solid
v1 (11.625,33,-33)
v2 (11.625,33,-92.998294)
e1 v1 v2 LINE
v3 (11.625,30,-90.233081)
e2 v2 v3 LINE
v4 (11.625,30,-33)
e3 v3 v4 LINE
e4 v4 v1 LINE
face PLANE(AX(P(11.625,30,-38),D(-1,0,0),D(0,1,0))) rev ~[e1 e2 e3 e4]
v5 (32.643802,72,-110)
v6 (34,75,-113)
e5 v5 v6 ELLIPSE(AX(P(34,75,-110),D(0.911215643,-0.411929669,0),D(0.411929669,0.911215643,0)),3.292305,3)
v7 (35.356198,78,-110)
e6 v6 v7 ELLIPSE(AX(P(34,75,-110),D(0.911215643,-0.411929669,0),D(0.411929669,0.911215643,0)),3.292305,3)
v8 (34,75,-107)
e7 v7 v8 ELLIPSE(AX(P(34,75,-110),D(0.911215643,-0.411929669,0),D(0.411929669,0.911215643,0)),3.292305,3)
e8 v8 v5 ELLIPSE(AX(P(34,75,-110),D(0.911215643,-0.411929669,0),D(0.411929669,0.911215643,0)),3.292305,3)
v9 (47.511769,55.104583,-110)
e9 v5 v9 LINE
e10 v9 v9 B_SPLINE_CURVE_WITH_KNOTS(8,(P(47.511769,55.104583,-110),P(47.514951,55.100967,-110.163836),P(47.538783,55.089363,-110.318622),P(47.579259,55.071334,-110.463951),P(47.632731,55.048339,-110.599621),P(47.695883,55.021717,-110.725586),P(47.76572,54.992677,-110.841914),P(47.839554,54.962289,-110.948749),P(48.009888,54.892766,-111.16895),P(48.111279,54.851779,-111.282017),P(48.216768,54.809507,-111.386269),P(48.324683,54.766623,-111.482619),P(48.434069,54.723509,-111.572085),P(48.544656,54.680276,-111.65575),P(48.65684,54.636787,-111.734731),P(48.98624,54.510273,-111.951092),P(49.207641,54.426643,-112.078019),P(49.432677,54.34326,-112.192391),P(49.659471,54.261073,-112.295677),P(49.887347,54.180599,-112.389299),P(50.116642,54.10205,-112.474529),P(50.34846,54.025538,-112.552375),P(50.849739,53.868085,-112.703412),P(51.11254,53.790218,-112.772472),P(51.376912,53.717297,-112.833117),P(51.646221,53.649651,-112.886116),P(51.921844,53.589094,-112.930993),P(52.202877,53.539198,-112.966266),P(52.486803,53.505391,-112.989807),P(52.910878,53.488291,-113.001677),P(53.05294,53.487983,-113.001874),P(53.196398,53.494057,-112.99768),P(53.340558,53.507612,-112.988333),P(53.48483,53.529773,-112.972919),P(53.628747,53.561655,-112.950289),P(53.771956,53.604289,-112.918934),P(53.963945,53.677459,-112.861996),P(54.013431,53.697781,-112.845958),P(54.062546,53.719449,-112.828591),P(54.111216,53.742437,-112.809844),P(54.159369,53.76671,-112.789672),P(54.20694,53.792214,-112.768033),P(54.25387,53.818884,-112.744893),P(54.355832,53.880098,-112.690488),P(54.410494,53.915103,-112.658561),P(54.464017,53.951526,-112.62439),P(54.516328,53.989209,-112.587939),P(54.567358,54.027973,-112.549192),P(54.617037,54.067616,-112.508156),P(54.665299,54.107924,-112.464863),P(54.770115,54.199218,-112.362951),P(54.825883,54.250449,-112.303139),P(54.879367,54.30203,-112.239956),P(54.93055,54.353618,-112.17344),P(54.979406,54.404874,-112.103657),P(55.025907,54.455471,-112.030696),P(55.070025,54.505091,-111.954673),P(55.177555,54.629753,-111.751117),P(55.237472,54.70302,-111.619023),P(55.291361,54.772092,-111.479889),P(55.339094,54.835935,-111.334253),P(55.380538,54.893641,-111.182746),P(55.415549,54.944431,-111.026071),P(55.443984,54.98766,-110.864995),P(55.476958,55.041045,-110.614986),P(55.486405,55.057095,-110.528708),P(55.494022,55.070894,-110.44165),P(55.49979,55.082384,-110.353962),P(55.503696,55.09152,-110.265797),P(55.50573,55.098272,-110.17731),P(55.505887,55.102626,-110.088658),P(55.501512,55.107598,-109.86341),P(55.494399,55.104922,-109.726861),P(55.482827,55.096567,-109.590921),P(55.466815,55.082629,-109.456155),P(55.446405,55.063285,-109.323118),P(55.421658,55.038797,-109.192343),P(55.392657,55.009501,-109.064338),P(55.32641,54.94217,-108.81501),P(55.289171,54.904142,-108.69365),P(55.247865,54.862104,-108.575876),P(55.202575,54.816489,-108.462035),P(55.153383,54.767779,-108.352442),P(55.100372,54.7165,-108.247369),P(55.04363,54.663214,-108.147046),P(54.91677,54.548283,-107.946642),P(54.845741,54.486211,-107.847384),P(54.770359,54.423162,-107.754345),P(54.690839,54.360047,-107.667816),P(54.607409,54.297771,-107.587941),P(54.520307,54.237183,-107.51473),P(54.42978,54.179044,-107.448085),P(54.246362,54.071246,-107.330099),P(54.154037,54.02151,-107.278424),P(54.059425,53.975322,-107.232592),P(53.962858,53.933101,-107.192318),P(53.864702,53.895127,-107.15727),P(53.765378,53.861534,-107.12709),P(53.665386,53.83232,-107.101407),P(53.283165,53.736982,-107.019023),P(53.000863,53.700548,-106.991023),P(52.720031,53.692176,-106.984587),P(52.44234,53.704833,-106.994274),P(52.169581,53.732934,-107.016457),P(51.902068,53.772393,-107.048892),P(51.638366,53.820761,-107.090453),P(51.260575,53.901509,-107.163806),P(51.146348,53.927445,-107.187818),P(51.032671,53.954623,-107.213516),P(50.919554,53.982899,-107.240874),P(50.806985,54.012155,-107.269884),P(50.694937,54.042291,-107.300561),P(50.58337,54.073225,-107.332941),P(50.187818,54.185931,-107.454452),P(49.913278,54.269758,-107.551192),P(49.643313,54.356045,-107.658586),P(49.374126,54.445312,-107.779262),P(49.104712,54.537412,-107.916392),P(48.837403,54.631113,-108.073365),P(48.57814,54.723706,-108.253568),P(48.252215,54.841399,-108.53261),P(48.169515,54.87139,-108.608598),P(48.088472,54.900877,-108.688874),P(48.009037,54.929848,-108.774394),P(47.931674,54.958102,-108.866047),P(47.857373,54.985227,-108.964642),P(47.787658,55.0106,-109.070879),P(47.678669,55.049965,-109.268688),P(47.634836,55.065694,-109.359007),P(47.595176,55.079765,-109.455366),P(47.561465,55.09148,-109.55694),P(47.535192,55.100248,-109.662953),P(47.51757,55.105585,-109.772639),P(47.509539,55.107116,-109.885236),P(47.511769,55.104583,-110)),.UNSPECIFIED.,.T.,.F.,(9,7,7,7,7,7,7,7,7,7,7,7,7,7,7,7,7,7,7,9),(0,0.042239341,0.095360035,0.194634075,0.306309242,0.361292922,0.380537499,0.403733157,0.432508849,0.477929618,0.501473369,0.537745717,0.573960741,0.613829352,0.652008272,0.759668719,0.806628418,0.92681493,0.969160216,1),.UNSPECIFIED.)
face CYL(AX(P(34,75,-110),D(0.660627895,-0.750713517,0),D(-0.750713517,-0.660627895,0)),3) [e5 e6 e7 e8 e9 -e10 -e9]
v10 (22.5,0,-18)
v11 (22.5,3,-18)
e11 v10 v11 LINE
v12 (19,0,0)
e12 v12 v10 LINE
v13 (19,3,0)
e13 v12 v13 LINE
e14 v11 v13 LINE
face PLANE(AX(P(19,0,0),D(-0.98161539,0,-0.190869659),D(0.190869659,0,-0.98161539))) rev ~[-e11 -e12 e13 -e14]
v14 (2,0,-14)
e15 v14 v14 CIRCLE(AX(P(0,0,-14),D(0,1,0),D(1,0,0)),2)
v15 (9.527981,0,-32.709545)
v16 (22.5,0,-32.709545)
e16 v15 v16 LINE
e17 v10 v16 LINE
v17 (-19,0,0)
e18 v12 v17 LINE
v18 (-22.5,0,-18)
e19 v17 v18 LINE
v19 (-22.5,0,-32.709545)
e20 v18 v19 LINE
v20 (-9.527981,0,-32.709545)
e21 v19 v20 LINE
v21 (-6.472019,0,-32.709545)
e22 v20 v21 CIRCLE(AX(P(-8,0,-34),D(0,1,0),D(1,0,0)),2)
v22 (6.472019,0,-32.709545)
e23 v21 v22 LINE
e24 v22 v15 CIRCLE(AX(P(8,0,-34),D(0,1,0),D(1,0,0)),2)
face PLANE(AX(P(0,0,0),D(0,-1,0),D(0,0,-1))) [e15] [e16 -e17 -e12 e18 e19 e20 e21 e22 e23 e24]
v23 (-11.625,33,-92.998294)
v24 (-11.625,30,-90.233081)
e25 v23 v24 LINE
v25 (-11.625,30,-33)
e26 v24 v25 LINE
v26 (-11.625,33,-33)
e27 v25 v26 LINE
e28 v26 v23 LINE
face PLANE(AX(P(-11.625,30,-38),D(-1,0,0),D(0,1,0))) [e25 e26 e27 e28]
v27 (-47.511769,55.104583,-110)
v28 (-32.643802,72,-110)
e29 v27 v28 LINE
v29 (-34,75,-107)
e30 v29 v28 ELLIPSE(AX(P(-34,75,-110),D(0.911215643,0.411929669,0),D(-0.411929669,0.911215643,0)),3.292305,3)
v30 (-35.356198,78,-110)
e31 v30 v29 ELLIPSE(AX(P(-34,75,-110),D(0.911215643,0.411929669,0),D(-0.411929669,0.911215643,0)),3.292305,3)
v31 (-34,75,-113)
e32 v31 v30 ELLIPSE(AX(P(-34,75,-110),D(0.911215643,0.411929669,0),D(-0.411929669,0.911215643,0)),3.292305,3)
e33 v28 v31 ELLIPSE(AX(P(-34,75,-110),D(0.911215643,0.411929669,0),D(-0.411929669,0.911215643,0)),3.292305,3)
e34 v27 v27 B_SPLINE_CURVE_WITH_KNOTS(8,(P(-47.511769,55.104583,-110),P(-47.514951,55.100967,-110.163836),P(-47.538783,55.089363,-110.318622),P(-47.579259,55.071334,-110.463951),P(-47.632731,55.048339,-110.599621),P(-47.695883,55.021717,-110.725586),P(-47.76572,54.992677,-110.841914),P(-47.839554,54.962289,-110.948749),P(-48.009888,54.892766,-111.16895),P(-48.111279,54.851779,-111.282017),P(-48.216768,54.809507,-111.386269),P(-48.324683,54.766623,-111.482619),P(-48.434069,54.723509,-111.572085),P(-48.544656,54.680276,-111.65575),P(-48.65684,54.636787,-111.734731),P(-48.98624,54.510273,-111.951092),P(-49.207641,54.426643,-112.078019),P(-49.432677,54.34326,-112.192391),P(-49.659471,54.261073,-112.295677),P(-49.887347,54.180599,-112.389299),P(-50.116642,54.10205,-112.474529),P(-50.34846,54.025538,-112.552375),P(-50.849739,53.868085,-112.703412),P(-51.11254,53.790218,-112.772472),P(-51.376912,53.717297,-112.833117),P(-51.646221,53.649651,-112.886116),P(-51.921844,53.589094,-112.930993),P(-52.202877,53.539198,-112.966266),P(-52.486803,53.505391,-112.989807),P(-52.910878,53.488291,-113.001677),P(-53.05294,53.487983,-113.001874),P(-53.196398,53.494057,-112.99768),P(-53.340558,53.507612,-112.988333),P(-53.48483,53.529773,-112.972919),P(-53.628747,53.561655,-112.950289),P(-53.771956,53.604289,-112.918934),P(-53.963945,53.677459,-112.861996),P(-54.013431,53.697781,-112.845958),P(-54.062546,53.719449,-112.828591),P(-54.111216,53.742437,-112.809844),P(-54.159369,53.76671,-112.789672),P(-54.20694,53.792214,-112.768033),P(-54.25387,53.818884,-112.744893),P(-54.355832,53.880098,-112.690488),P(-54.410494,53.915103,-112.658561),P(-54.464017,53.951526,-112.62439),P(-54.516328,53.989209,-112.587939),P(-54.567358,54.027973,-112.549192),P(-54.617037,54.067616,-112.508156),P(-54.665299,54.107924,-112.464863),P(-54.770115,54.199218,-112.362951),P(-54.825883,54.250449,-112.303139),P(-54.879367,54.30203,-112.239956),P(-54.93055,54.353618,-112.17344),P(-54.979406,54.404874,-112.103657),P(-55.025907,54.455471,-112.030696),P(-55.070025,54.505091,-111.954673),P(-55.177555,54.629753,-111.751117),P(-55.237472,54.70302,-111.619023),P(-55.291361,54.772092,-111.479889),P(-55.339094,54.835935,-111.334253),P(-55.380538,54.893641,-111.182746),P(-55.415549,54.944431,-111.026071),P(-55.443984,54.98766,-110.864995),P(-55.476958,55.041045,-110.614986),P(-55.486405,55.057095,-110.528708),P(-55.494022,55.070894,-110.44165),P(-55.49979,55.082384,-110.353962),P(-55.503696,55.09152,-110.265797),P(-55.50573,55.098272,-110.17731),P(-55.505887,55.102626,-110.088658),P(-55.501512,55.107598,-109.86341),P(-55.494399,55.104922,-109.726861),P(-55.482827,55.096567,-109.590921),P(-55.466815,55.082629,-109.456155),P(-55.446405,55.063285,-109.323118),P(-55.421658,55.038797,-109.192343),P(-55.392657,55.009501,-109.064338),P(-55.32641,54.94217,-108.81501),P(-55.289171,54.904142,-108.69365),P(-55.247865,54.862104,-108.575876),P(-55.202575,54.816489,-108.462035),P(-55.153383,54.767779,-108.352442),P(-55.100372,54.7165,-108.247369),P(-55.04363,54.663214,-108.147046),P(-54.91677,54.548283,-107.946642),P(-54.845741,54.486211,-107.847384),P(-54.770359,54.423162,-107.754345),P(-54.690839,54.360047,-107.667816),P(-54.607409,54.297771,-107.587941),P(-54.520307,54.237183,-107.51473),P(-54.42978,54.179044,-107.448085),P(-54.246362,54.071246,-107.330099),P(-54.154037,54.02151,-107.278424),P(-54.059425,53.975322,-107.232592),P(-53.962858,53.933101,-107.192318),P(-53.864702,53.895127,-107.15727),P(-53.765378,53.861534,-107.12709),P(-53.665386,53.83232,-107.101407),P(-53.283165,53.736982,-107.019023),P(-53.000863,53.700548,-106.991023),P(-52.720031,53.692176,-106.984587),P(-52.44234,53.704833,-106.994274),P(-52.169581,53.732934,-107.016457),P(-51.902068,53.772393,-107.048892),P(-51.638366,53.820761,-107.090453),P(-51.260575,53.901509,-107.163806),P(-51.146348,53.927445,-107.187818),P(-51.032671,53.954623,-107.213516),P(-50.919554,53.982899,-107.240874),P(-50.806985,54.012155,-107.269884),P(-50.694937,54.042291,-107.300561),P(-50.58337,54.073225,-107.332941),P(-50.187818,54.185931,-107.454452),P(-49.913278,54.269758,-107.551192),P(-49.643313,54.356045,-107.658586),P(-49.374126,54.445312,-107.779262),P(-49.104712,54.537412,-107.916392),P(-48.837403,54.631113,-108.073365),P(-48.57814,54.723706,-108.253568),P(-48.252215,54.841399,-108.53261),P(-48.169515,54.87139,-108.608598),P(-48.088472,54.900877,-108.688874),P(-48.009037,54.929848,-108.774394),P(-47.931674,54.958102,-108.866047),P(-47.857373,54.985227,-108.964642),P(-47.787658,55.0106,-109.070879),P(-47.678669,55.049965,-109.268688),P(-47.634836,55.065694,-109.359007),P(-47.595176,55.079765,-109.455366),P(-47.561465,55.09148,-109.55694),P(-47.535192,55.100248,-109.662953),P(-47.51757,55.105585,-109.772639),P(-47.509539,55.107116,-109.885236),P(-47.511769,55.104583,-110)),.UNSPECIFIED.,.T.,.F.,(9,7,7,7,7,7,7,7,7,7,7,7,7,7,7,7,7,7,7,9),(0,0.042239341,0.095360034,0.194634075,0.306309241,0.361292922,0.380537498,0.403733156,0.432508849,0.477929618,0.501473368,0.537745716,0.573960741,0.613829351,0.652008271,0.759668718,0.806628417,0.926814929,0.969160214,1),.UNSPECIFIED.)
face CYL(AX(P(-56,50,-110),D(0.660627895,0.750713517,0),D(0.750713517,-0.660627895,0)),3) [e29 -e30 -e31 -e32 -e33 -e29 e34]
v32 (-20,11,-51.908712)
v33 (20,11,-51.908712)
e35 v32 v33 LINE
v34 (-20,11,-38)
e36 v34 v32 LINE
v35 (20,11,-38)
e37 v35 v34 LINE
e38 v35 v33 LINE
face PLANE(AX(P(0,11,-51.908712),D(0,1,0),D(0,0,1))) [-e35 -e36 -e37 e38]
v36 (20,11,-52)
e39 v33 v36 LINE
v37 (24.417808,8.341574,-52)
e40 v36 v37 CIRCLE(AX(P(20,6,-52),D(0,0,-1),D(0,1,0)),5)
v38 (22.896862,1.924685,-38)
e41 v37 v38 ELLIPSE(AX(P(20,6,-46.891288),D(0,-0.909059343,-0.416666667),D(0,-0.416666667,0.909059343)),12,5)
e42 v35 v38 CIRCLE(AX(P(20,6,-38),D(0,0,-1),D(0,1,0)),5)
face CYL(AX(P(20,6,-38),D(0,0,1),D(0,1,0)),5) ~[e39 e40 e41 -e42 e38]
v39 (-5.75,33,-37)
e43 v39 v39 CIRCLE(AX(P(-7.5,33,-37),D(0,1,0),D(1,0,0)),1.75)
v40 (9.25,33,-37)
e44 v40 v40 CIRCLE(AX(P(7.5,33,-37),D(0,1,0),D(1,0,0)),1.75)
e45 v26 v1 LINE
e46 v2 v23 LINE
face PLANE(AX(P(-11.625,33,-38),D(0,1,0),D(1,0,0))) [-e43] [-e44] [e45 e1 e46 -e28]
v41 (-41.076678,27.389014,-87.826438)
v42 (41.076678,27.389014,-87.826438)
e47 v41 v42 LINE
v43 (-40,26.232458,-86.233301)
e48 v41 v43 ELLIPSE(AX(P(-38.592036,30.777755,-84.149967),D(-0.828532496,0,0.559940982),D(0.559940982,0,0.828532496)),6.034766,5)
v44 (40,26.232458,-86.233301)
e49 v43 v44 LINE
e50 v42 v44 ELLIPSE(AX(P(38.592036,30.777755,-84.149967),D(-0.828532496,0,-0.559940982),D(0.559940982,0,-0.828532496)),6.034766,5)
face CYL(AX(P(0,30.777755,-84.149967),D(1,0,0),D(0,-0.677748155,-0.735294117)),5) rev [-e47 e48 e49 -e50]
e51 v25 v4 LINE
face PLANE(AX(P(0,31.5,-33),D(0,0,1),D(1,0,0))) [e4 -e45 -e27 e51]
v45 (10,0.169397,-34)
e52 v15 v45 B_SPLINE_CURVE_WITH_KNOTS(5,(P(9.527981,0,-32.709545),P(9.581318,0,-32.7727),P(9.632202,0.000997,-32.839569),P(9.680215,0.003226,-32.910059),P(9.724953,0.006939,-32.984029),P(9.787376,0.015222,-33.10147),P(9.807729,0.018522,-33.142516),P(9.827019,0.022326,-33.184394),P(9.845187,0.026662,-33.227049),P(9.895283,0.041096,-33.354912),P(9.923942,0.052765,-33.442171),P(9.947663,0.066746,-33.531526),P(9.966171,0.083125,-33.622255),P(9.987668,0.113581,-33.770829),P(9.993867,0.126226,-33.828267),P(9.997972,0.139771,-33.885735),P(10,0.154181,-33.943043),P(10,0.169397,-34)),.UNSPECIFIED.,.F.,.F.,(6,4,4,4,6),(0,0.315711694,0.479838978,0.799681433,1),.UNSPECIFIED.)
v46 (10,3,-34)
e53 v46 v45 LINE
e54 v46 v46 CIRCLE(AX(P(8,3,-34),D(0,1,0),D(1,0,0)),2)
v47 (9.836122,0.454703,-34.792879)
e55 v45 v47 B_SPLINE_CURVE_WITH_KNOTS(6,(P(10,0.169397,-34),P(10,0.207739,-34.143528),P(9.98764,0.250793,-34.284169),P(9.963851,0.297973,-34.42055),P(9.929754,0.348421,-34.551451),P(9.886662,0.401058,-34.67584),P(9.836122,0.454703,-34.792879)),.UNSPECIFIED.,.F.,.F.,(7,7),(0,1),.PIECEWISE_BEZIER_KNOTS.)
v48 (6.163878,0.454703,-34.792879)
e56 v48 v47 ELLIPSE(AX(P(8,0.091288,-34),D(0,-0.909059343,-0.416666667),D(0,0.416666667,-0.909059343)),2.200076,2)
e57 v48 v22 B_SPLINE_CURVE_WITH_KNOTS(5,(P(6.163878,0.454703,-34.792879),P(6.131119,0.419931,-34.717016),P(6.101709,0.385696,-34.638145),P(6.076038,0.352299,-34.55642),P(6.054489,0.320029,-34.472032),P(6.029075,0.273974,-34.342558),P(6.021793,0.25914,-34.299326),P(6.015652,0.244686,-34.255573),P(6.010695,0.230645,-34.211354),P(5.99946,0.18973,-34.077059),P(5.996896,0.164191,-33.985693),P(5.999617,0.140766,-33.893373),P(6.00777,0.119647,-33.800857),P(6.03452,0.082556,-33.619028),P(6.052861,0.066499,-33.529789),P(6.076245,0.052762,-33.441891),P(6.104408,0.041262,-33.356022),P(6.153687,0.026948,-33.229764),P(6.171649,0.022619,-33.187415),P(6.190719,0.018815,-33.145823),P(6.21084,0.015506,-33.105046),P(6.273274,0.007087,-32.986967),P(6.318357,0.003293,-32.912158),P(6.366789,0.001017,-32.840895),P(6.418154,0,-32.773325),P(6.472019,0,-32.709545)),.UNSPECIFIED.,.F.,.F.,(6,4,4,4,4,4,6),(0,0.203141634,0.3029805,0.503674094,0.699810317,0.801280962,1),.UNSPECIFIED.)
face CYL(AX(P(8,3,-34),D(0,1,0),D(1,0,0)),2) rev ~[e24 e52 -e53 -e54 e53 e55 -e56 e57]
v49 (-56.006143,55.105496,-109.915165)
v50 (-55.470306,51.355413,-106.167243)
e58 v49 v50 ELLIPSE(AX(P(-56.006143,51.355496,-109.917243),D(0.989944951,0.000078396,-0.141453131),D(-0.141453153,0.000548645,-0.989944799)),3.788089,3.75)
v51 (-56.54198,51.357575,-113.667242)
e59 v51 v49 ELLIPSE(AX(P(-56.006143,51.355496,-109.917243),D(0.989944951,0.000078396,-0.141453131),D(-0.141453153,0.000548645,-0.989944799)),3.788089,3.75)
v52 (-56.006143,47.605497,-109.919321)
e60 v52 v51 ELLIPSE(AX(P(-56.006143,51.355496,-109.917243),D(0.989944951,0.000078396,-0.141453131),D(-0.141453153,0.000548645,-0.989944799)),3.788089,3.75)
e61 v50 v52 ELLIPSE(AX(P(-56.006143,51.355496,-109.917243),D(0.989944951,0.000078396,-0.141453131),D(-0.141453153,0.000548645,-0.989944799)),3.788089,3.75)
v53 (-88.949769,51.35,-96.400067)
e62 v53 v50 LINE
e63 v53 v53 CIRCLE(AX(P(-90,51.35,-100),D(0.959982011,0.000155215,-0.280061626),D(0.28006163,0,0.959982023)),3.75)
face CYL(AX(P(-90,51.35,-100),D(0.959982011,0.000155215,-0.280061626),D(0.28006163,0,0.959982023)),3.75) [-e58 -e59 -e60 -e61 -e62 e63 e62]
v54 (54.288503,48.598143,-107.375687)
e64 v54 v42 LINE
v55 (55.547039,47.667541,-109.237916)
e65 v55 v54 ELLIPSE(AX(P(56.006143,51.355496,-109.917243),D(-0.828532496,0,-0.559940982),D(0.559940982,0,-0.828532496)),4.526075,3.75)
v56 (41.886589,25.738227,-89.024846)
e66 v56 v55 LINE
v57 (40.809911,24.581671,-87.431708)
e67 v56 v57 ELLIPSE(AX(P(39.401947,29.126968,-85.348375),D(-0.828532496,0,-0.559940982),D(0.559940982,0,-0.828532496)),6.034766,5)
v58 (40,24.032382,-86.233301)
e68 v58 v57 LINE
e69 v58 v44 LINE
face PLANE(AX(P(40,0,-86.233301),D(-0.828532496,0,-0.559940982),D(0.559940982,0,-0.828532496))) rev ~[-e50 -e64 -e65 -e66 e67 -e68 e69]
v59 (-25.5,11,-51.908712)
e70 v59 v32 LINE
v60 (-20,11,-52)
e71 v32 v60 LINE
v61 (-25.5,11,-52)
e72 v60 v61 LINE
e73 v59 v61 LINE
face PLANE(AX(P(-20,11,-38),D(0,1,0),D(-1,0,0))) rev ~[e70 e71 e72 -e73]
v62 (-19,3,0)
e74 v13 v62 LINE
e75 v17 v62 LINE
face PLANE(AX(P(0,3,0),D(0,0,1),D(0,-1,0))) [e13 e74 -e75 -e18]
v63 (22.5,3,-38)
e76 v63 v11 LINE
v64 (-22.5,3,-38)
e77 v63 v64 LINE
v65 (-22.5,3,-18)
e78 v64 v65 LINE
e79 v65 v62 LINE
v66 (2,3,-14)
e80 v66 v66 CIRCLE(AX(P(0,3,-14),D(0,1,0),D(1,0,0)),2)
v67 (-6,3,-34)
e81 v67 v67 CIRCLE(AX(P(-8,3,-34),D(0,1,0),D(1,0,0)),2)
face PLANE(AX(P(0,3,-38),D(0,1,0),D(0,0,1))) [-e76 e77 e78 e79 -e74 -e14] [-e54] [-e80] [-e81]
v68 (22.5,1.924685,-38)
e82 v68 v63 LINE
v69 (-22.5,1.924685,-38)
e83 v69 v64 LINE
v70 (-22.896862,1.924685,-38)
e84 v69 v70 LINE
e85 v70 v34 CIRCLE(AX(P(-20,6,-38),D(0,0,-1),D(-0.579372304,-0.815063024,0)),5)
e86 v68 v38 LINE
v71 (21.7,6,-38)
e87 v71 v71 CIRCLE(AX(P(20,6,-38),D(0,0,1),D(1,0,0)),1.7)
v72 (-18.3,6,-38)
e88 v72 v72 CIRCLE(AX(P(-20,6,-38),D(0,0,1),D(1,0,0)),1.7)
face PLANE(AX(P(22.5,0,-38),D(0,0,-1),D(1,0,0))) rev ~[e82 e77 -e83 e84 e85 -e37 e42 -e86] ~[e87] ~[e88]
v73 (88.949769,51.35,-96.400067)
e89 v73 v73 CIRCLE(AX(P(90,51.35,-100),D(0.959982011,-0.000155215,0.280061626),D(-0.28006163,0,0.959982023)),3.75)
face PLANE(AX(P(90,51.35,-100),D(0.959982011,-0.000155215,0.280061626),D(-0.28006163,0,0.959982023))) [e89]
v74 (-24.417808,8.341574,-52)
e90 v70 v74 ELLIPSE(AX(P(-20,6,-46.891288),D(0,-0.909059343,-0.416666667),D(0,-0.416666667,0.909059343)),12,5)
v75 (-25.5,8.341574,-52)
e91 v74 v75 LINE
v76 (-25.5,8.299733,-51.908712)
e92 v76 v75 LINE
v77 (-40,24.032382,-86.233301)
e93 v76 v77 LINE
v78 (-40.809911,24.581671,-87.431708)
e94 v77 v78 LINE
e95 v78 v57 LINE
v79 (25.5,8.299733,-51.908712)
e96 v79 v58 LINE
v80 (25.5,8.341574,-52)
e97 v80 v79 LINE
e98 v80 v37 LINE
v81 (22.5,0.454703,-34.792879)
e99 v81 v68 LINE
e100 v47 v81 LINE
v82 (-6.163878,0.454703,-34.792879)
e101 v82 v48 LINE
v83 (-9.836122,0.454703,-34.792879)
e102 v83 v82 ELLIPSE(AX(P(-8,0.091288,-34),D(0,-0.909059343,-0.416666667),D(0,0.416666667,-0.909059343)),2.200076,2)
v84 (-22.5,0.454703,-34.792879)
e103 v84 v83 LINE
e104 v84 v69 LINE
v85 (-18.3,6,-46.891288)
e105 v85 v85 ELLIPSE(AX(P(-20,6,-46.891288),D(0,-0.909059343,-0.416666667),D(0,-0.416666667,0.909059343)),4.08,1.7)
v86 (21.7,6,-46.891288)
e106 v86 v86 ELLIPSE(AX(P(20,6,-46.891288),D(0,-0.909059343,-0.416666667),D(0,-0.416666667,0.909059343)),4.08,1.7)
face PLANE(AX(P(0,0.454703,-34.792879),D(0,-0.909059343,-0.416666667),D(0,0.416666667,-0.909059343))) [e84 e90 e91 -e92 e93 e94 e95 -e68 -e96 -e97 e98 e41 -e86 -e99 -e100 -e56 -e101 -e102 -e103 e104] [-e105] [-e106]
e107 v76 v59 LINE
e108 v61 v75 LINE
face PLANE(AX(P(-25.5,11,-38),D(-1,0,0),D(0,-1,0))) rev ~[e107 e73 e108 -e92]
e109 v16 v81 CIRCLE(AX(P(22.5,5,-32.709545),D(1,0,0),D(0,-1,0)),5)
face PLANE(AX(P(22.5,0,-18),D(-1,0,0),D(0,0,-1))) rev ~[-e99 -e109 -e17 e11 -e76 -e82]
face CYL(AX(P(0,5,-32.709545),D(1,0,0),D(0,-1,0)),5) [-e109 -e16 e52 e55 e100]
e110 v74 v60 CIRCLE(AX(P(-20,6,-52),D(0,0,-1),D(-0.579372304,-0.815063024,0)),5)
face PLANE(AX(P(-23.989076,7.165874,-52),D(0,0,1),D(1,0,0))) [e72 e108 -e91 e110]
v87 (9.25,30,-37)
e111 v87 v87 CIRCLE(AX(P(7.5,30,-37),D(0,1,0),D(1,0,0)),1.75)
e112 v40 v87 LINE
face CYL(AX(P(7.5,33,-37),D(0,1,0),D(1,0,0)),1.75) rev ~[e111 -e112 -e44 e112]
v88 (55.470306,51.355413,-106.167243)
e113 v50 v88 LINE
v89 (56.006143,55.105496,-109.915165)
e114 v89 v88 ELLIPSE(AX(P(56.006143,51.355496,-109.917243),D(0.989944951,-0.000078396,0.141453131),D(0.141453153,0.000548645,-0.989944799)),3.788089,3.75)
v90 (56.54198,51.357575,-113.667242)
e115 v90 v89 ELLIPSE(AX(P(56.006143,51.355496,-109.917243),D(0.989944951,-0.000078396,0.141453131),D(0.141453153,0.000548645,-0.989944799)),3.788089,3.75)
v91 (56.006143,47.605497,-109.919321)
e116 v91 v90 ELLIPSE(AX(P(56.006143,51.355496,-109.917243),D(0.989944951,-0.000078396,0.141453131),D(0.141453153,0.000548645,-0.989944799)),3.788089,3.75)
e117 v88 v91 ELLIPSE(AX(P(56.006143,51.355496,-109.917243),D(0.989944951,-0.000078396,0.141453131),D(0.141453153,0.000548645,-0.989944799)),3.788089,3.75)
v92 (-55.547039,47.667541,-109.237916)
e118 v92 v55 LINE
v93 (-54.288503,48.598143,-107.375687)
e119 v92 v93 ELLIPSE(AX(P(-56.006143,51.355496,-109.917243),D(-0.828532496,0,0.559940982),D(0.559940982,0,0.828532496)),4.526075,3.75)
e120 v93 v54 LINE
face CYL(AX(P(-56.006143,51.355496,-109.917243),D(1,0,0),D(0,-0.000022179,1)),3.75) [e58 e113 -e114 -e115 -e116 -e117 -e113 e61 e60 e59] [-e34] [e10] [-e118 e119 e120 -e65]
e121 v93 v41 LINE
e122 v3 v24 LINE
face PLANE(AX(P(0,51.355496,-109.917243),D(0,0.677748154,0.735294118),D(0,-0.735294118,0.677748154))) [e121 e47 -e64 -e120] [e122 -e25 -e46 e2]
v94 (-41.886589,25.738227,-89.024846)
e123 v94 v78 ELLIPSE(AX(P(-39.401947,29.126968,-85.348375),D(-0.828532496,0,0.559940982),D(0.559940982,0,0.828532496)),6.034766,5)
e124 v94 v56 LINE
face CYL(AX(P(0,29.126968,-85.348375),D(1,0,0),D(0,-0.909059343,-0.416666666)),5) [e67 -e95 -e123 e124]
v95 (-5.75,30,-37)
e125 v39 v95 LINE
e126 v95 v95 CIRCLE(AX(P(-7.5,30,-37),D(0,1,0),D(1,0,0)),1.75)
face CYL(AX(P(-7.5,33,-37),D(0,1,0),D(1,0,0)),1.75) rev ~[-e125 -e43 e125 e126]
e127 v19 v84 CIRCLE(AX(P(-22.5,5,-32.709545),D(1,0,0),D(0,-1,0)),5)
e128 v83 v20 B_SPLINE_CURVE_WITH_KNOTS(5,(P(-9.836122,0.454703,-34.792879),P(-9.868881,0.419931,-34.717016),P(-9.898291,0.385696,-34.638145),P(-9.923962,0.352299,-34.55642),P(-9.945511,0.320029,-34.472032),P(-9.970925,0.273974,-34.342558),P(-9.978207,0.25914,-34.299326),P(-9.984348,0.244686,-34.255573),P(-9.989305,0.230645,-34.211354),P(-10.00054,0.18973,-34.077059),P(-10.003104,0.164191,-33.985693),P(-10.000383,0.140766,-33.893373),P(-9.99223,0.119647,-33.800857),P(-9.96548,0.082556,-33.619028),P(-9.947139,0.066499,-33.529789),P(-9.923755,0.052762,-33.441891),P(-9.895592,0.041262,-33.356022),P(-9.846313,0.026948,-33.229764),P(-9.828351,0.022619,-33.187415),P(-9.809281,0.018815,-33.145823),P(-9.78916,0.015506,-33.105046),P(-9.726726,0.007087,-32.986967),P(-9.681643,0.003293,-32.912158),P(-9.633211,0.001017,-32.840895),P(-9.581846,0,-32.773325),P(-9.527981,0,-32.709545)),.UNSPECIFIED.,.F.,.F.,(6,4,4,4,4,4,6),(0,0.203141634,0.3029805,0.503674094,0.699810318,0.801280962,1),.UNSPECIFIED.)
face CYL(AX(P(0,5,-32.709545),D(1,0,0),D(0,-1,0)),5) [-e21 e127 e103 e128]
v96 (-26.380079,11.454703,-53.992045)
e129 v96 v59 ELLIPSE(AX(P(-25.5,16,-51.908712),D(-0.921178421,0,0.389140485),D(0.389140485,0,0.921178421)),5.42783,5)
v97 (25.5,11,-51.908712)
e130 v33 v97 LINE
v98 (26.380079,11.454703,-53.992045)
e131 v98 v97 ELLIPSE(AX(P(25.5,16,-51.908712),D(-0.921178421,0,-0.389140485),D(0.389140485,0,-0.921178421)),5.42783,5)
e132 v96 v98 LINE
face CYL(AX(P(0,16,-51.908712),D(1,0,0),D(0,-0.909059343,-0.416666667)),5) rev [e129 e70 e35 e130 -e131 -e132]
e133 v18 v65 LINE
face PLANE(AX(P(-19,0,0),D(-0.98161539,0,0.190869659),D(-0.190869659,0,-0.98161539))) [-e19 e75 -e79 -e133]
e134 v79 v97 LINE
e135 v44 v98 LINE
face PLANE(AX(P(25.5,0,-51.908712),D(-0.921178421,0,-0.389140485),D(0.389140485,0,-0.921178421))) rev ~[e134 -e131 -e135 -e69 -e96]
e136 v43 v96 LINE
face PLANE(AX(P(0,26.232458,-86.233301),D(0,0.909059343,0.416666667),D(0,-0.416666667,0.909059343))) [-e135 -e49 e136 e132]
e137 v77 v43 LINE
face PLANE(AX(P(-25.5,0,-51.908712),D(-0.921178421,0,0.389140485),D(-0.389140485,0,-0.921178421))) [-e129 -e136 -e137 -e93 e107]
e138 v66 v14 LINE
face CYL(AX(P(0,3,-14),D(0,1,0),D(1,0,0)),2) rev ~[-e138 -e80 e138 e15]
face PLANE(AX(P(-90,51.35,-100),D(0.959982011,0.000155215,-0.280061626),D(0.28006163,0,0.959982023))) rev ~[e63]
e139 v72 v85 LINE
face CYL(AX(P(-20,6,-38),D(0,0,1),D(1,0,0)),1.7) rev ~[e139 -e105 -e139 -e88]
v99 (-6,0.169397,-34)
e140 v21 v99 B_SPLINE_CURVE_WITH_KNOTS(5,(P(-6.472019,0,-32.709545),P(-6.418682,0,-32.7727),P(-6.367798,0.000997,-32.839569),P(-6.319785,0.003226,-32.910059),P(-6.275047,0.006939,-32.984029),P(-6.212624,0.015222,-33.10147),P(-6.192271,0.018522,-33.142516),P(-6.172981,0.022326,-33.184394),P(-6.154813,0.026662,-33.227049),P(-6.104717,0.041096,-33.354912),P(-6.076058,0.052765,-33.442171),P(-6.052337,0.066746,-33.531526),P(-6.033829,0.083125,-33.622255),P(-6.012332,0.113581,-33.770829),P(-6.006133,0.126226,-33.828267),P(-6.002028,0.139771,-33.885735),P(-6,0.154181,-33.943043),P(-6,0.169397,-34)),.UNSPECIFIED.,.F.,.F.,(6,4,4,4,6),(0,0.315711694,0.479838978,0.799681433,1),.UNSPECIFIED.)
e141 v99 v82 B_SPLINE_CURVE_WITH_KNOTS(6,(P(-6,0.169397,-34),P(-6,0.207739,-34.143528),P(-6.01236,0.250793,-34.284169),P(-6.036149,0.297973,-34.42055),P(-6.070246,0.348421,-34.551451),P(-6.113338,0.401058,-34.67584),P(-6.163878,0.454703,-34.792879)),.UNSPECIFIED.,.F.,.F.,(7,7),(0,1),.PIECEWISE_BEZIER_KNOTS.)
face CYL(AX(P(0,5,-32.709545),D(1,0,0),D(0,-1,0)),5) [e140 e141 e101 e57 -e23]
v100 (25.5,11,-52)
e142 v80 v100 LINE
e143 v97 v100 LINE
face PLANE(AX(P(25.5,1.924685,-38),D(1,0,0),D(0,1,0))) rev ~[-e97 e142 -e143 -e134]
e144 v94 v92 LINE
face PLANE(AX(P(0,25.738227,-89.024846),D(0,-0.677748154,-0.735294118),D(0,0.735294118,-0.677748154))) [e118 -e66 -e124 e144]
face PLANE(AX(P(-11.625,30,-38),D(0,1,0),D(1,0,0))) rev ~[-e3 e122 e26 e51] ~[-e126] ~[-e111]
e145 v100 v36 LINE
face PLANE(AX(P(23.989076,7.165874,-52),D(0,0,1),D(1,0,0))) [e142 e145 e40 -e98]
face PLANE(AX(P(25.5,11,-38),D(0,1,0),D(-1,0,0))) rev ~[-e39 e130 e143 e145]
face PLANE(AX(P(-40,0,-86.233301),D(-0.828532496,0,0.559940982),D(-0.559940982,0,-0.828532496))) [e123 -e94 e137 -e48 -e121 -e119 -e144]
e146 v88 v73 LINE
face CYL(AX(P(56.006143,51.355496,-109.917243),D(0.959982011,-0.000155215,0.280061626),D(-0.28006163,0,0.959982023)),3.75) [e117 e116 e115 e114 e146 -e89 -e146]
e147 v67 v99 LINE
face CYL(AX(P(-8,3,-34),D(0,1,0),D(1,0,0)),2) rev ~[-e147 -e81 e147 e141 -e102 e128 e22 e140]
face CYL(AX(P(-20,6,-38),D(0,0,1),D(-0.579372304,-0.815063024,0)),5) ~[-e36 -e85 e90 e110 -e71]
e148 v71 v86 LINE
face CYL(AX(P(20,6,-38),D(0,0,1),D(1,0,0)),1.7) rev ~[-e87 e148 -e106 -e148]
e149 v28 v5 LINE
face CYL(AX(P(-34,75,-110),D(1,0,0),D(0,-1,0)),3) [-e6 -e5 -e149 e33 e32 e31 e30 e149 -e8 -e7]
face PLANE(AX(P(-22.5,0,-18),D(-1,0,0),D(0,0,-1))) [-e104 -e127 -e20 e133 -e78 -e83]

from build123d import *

# Parameters (mm, degrees)
BOSS_EXTRUDE1_DEPTH             = 57
SKETCH18_R                      = 2
CUT_EXTRUDE3_DEPTH              = 3
CUT_EXTRUDE5_DEPTH              = 60
CUT_EXTRUDE5_DEPTH_BACK         = 1.0000001
SKETCH24_R                      = 1.7
CUT_EXTRUDE6_DEPTH              = 14
SWEEP1_PROFILE_R                = 3.75
SWEEP2_PROFILE_R                = 3
BOSS_EXTRUDE2_REACH             = 77.667
SKETCH19_W                      = 23.25
SKETCH19_H                      = 3
BOSS_EXTRUDE2_DIRECTION_2_DEPTH = 5
CUT_EXTRUDE8_REACH              = 35
SKETCH54_R                      = 1.75


with BuildPart() as part:
    # Sketch2 → Boss-Extrude1 (new body, symmetric)
    with BuildSketch(Plane(origin=(0, 0, 0), x_dir=(0, 0, -1), z_dir=(1, 0, 0))):
        with BuildLine():
            Line((0, 0), (32.709545462, 0))
            ThreePointArc((32.709545462, 0), (33.775734101, 0.114998282), (34.792878796, 0.454703286))
            Line((34.792878796, 0.454703286), (87.43170835, 24.581671255))
            ThreePointArc((87.43170835, 24.581671255), (88.285761732, 25.080764899), (89.024845605, 25.738227198))
            Line((89.024845605, 25.738227198), (111.387831165, 50))
            Line((111.387831165, 50), (109.917242929, 51.355496308))
            Line((109.917242929, 51.355496308), (87.826438044, 27.389014385))
            ThreePointArc((87.826438044, 27.389014385), (87.087354171, 26.731552087), (86.233300789, 26.232458442))
            Line((86.233300789, 26.232458442), (53.992045448, 11.454703286))
            ThreePointArc((53.992045448, 11.454703286), (52.974900754, 11.114998282), (51.908712115, 11))
            Line((51.908712115, 11), (38, 11))
            Line((38, 11), (38, 3))
            Line((38, 3), (0, 3))
            Line((0, 3), (0, 0))
        make_face()
    extrude(amount=BOSS_EXTRUDE1_DEPTH, both=True)

    # Sketch18 → Cut-Extrude3 (cut)
    with BuildSketch(Plane(origin=(0, 3, 0), x_dir=(1, 0, 0), z_dir=(0, 1, 0))):
        with Locations((-8, 34)):
            Circle(SKETCH18_R)
        with Locations((8, 34)):
            Circle(SKETCH18_R)
        with Locations((0, 14)):
            Circle(SKETCH18_R)
    extrude(amount=-CUT_EXTRUDE3_DEPTH, mode=Mode.SUBTRACT)

    # Sketch23 → Cut-Extrude5 (cut, two sides)
    with BuildSketch(Plane(origin=(0, 0, 0), x_dir=(1, 0, 0), z_dir=(0, 1, 0))) as cut_extrude5_sk:
        Polygon((19, 0), (22.5, 18), (22.5, 38), (25.5, 38), (25.5, 51.908712115), (40, 86.233300789), (57, 111.387831165), (57, 0), align=None)
        Polygon((-57, 0), (-19, 0), (-22.5, 18), (-22.5, 38), (-25.5, 38), (-25.5, 51.908712115), (-40, 86.233300789), (-57, 111.387831165), align=None)
    extrude(amount=CUT_EXTRUDE5_DEPTH, mode=Mode.SUBTRACT)
    extrude(cut_extrude5_sk.sketch, amount=-CUT_EXTRUDE5_DEPTH_BACK, mode=Mode.SUBTRACT)

    # Sketch24 → Cut-Extrude6 (cut)
    with BuildSketch(Plane.XY.offset(-38)):
        with Locations((-20, 6)):
            Circle(SKETCH24_R)
        with Locations((20, 6)):
            Circle(SKETCH24_R)
        with BuildLine():
            Line((-20, 11), (-25.5, 11))
            Line((-25.5, 11), (-25.5, 1.924684879))
            Line((-25.5, 1.924684879), (-22.89686152, 1.924684879))
            ThreePointArc((-22.89686152, 1.924684879), (-24.763222418, 7.520431583), (-20, 11))
        make_face()
        with BuildLine():
            Line((22.89686152, 1.924684879), (25.5, 1.924684879))
            Line((25.5, 1.924684879), (25.5, 11))
            Line((25.5, 11), (20, 11))
            ThreePointArc((20, 11), (24.763222418, 7.520431583), (22.89686152, 1.924684879))
        make_face()
    extrude(amount=-CUT_EXTRUDE6_DEPTH, mode=Mode.SUBTRACT)

    # Sweep1: sweep along a curve in space
    with BuildLine() as sweep1_path:
        Line((-90, 51.35, -100), (-56.006143242, 51.355496308, -109.917242929))
        Line((-56.006143242, 51.355496308, -109.917242929), (56.006143242, 51.355496308, -109.917242929))
        Line((56.006143242, 51.355496308, -109.917242929), (90, 51.35, -100))
    # Sweep1 profile (on start of the path) → Sweep1 (sweep)
    with BuildSketch(Plane(origin=(-90, 51.35, -100), x_dir=(0.28006163, 0, 0.959982023), z_dir=(0.959982011, 0.000155215, -0.280061626))):
        Circle(SWEEP1_PROFILE_R)
    sweep(path=sweep1_path.line, transition=Transition.RIGHT)

    # Sweep2: sweep along a curve in space
    with BuildLine() as sweep2_path:
        Line((-56, 50, -110), (-34, 75, -110))
        Line((-34, 75, -110), (34, 75, -110))
        Line((34, 75, -110), (56, 50, -110))
    # Sweep2 profile (on start of the path) → Sweep2 (sweep)
    with BuildSketch(Plane(origin=(-56, 50, -110), x_dir=(0.750713517, -0.660627895, 0), z_dir=(0.660627895, 0.750713517, 0))):
        Circle(SWEEP2_PROFILE_R)
    sweep(path=sweep2_path.line, transition=Transition.RIGHT)

    # Boss-Extrude2: up to this face of the body (flat: up to its plane)
    boss_extrude2_end = Plane(part.part.faces().sort_by_distance((0, 38.483295154, -98.05245255))[0])
    # Sketch19 → Boss-Extrude2 (add, up to the picked face)
    with BuildSketch(Plane.XY.offset(-38), mode=Mode.PRIVATE) as boss_extrude2_sk1:
        with Locations((0, 31.5)):
            Rectangle(SKETCH19_W, SKETCH19_H)
    boss_extrude2_tool1 = split(extrude(boss_extrude2_sk1.sketch, amount=-BOSS_EXTRUDE2_REACH, mode=Mode.PRIVATE), bisect_by=boss_extrude2_end, keep=Keep.BOTH, mode=Mode.PRIVATE)
    add(boss_extrude2_tool1.solids().sort_by_distance((0, 31.5, -38))[0])

    # Sketch19 → Boss-Extrude2 direction 2 (add)
    with BuildSketch(Plane.XY.offset(-38)):
        with Locations((0, 31.5)):
            Rectangle(SKETCH19_W, SKETCH19_H)
    extrude(amount=BOSS_EXTRUDE2_DIRECTION_2_DEPTH)

    # Sketch54 → Cut-Extrude8 (cut, up to next)
    with BuildSketch(Plane(origin=(0, 33, 0), x_dir=(1, 0, 0), z_dir=(0, 1, 0)), mode=Mode.PRIVATE) as cut_extrude8_sk1:
        with Locations((-7.5, 37)):
            Circle(SKETCH54_R)
    cut_extrude8_tool1 = extrude(cut_extrude8_sk1.sketch, amount=-CUT_EXTRUDE8_REACH, mode=Mode.PRIVATE) & part.part
    add(cut_extrude8_tool1.solids().sort_by_distance((-7.5, 33, -37))[0], mode=Mode.SUBTRACT)
    # Sketch54 → Cut-Extrude8 (cut, up to next)
    with BuildSketch(Plane(origin=(0, 33, 0), x_dir=(1, 0, 0), z_dir=(0, 1, 0)), mode=Mode.PRIVATE) as cut_extrude8_sk2:
        with Locations((7.5, 37)):
            Circle(SKETCH54_R)
    cut_extrude8_tool2 = extrude(cut_extrude8_sk2.sketch, amount=-CUT_EXTRUDE8_REACH, mode=Mode.PRIVATE) & part.part
    add(cut_extrude8_tool2.solids().sort_by_distance((7.5, 33, -37))[0], mode=Mode.SUBTRACT)


solid = part.part
